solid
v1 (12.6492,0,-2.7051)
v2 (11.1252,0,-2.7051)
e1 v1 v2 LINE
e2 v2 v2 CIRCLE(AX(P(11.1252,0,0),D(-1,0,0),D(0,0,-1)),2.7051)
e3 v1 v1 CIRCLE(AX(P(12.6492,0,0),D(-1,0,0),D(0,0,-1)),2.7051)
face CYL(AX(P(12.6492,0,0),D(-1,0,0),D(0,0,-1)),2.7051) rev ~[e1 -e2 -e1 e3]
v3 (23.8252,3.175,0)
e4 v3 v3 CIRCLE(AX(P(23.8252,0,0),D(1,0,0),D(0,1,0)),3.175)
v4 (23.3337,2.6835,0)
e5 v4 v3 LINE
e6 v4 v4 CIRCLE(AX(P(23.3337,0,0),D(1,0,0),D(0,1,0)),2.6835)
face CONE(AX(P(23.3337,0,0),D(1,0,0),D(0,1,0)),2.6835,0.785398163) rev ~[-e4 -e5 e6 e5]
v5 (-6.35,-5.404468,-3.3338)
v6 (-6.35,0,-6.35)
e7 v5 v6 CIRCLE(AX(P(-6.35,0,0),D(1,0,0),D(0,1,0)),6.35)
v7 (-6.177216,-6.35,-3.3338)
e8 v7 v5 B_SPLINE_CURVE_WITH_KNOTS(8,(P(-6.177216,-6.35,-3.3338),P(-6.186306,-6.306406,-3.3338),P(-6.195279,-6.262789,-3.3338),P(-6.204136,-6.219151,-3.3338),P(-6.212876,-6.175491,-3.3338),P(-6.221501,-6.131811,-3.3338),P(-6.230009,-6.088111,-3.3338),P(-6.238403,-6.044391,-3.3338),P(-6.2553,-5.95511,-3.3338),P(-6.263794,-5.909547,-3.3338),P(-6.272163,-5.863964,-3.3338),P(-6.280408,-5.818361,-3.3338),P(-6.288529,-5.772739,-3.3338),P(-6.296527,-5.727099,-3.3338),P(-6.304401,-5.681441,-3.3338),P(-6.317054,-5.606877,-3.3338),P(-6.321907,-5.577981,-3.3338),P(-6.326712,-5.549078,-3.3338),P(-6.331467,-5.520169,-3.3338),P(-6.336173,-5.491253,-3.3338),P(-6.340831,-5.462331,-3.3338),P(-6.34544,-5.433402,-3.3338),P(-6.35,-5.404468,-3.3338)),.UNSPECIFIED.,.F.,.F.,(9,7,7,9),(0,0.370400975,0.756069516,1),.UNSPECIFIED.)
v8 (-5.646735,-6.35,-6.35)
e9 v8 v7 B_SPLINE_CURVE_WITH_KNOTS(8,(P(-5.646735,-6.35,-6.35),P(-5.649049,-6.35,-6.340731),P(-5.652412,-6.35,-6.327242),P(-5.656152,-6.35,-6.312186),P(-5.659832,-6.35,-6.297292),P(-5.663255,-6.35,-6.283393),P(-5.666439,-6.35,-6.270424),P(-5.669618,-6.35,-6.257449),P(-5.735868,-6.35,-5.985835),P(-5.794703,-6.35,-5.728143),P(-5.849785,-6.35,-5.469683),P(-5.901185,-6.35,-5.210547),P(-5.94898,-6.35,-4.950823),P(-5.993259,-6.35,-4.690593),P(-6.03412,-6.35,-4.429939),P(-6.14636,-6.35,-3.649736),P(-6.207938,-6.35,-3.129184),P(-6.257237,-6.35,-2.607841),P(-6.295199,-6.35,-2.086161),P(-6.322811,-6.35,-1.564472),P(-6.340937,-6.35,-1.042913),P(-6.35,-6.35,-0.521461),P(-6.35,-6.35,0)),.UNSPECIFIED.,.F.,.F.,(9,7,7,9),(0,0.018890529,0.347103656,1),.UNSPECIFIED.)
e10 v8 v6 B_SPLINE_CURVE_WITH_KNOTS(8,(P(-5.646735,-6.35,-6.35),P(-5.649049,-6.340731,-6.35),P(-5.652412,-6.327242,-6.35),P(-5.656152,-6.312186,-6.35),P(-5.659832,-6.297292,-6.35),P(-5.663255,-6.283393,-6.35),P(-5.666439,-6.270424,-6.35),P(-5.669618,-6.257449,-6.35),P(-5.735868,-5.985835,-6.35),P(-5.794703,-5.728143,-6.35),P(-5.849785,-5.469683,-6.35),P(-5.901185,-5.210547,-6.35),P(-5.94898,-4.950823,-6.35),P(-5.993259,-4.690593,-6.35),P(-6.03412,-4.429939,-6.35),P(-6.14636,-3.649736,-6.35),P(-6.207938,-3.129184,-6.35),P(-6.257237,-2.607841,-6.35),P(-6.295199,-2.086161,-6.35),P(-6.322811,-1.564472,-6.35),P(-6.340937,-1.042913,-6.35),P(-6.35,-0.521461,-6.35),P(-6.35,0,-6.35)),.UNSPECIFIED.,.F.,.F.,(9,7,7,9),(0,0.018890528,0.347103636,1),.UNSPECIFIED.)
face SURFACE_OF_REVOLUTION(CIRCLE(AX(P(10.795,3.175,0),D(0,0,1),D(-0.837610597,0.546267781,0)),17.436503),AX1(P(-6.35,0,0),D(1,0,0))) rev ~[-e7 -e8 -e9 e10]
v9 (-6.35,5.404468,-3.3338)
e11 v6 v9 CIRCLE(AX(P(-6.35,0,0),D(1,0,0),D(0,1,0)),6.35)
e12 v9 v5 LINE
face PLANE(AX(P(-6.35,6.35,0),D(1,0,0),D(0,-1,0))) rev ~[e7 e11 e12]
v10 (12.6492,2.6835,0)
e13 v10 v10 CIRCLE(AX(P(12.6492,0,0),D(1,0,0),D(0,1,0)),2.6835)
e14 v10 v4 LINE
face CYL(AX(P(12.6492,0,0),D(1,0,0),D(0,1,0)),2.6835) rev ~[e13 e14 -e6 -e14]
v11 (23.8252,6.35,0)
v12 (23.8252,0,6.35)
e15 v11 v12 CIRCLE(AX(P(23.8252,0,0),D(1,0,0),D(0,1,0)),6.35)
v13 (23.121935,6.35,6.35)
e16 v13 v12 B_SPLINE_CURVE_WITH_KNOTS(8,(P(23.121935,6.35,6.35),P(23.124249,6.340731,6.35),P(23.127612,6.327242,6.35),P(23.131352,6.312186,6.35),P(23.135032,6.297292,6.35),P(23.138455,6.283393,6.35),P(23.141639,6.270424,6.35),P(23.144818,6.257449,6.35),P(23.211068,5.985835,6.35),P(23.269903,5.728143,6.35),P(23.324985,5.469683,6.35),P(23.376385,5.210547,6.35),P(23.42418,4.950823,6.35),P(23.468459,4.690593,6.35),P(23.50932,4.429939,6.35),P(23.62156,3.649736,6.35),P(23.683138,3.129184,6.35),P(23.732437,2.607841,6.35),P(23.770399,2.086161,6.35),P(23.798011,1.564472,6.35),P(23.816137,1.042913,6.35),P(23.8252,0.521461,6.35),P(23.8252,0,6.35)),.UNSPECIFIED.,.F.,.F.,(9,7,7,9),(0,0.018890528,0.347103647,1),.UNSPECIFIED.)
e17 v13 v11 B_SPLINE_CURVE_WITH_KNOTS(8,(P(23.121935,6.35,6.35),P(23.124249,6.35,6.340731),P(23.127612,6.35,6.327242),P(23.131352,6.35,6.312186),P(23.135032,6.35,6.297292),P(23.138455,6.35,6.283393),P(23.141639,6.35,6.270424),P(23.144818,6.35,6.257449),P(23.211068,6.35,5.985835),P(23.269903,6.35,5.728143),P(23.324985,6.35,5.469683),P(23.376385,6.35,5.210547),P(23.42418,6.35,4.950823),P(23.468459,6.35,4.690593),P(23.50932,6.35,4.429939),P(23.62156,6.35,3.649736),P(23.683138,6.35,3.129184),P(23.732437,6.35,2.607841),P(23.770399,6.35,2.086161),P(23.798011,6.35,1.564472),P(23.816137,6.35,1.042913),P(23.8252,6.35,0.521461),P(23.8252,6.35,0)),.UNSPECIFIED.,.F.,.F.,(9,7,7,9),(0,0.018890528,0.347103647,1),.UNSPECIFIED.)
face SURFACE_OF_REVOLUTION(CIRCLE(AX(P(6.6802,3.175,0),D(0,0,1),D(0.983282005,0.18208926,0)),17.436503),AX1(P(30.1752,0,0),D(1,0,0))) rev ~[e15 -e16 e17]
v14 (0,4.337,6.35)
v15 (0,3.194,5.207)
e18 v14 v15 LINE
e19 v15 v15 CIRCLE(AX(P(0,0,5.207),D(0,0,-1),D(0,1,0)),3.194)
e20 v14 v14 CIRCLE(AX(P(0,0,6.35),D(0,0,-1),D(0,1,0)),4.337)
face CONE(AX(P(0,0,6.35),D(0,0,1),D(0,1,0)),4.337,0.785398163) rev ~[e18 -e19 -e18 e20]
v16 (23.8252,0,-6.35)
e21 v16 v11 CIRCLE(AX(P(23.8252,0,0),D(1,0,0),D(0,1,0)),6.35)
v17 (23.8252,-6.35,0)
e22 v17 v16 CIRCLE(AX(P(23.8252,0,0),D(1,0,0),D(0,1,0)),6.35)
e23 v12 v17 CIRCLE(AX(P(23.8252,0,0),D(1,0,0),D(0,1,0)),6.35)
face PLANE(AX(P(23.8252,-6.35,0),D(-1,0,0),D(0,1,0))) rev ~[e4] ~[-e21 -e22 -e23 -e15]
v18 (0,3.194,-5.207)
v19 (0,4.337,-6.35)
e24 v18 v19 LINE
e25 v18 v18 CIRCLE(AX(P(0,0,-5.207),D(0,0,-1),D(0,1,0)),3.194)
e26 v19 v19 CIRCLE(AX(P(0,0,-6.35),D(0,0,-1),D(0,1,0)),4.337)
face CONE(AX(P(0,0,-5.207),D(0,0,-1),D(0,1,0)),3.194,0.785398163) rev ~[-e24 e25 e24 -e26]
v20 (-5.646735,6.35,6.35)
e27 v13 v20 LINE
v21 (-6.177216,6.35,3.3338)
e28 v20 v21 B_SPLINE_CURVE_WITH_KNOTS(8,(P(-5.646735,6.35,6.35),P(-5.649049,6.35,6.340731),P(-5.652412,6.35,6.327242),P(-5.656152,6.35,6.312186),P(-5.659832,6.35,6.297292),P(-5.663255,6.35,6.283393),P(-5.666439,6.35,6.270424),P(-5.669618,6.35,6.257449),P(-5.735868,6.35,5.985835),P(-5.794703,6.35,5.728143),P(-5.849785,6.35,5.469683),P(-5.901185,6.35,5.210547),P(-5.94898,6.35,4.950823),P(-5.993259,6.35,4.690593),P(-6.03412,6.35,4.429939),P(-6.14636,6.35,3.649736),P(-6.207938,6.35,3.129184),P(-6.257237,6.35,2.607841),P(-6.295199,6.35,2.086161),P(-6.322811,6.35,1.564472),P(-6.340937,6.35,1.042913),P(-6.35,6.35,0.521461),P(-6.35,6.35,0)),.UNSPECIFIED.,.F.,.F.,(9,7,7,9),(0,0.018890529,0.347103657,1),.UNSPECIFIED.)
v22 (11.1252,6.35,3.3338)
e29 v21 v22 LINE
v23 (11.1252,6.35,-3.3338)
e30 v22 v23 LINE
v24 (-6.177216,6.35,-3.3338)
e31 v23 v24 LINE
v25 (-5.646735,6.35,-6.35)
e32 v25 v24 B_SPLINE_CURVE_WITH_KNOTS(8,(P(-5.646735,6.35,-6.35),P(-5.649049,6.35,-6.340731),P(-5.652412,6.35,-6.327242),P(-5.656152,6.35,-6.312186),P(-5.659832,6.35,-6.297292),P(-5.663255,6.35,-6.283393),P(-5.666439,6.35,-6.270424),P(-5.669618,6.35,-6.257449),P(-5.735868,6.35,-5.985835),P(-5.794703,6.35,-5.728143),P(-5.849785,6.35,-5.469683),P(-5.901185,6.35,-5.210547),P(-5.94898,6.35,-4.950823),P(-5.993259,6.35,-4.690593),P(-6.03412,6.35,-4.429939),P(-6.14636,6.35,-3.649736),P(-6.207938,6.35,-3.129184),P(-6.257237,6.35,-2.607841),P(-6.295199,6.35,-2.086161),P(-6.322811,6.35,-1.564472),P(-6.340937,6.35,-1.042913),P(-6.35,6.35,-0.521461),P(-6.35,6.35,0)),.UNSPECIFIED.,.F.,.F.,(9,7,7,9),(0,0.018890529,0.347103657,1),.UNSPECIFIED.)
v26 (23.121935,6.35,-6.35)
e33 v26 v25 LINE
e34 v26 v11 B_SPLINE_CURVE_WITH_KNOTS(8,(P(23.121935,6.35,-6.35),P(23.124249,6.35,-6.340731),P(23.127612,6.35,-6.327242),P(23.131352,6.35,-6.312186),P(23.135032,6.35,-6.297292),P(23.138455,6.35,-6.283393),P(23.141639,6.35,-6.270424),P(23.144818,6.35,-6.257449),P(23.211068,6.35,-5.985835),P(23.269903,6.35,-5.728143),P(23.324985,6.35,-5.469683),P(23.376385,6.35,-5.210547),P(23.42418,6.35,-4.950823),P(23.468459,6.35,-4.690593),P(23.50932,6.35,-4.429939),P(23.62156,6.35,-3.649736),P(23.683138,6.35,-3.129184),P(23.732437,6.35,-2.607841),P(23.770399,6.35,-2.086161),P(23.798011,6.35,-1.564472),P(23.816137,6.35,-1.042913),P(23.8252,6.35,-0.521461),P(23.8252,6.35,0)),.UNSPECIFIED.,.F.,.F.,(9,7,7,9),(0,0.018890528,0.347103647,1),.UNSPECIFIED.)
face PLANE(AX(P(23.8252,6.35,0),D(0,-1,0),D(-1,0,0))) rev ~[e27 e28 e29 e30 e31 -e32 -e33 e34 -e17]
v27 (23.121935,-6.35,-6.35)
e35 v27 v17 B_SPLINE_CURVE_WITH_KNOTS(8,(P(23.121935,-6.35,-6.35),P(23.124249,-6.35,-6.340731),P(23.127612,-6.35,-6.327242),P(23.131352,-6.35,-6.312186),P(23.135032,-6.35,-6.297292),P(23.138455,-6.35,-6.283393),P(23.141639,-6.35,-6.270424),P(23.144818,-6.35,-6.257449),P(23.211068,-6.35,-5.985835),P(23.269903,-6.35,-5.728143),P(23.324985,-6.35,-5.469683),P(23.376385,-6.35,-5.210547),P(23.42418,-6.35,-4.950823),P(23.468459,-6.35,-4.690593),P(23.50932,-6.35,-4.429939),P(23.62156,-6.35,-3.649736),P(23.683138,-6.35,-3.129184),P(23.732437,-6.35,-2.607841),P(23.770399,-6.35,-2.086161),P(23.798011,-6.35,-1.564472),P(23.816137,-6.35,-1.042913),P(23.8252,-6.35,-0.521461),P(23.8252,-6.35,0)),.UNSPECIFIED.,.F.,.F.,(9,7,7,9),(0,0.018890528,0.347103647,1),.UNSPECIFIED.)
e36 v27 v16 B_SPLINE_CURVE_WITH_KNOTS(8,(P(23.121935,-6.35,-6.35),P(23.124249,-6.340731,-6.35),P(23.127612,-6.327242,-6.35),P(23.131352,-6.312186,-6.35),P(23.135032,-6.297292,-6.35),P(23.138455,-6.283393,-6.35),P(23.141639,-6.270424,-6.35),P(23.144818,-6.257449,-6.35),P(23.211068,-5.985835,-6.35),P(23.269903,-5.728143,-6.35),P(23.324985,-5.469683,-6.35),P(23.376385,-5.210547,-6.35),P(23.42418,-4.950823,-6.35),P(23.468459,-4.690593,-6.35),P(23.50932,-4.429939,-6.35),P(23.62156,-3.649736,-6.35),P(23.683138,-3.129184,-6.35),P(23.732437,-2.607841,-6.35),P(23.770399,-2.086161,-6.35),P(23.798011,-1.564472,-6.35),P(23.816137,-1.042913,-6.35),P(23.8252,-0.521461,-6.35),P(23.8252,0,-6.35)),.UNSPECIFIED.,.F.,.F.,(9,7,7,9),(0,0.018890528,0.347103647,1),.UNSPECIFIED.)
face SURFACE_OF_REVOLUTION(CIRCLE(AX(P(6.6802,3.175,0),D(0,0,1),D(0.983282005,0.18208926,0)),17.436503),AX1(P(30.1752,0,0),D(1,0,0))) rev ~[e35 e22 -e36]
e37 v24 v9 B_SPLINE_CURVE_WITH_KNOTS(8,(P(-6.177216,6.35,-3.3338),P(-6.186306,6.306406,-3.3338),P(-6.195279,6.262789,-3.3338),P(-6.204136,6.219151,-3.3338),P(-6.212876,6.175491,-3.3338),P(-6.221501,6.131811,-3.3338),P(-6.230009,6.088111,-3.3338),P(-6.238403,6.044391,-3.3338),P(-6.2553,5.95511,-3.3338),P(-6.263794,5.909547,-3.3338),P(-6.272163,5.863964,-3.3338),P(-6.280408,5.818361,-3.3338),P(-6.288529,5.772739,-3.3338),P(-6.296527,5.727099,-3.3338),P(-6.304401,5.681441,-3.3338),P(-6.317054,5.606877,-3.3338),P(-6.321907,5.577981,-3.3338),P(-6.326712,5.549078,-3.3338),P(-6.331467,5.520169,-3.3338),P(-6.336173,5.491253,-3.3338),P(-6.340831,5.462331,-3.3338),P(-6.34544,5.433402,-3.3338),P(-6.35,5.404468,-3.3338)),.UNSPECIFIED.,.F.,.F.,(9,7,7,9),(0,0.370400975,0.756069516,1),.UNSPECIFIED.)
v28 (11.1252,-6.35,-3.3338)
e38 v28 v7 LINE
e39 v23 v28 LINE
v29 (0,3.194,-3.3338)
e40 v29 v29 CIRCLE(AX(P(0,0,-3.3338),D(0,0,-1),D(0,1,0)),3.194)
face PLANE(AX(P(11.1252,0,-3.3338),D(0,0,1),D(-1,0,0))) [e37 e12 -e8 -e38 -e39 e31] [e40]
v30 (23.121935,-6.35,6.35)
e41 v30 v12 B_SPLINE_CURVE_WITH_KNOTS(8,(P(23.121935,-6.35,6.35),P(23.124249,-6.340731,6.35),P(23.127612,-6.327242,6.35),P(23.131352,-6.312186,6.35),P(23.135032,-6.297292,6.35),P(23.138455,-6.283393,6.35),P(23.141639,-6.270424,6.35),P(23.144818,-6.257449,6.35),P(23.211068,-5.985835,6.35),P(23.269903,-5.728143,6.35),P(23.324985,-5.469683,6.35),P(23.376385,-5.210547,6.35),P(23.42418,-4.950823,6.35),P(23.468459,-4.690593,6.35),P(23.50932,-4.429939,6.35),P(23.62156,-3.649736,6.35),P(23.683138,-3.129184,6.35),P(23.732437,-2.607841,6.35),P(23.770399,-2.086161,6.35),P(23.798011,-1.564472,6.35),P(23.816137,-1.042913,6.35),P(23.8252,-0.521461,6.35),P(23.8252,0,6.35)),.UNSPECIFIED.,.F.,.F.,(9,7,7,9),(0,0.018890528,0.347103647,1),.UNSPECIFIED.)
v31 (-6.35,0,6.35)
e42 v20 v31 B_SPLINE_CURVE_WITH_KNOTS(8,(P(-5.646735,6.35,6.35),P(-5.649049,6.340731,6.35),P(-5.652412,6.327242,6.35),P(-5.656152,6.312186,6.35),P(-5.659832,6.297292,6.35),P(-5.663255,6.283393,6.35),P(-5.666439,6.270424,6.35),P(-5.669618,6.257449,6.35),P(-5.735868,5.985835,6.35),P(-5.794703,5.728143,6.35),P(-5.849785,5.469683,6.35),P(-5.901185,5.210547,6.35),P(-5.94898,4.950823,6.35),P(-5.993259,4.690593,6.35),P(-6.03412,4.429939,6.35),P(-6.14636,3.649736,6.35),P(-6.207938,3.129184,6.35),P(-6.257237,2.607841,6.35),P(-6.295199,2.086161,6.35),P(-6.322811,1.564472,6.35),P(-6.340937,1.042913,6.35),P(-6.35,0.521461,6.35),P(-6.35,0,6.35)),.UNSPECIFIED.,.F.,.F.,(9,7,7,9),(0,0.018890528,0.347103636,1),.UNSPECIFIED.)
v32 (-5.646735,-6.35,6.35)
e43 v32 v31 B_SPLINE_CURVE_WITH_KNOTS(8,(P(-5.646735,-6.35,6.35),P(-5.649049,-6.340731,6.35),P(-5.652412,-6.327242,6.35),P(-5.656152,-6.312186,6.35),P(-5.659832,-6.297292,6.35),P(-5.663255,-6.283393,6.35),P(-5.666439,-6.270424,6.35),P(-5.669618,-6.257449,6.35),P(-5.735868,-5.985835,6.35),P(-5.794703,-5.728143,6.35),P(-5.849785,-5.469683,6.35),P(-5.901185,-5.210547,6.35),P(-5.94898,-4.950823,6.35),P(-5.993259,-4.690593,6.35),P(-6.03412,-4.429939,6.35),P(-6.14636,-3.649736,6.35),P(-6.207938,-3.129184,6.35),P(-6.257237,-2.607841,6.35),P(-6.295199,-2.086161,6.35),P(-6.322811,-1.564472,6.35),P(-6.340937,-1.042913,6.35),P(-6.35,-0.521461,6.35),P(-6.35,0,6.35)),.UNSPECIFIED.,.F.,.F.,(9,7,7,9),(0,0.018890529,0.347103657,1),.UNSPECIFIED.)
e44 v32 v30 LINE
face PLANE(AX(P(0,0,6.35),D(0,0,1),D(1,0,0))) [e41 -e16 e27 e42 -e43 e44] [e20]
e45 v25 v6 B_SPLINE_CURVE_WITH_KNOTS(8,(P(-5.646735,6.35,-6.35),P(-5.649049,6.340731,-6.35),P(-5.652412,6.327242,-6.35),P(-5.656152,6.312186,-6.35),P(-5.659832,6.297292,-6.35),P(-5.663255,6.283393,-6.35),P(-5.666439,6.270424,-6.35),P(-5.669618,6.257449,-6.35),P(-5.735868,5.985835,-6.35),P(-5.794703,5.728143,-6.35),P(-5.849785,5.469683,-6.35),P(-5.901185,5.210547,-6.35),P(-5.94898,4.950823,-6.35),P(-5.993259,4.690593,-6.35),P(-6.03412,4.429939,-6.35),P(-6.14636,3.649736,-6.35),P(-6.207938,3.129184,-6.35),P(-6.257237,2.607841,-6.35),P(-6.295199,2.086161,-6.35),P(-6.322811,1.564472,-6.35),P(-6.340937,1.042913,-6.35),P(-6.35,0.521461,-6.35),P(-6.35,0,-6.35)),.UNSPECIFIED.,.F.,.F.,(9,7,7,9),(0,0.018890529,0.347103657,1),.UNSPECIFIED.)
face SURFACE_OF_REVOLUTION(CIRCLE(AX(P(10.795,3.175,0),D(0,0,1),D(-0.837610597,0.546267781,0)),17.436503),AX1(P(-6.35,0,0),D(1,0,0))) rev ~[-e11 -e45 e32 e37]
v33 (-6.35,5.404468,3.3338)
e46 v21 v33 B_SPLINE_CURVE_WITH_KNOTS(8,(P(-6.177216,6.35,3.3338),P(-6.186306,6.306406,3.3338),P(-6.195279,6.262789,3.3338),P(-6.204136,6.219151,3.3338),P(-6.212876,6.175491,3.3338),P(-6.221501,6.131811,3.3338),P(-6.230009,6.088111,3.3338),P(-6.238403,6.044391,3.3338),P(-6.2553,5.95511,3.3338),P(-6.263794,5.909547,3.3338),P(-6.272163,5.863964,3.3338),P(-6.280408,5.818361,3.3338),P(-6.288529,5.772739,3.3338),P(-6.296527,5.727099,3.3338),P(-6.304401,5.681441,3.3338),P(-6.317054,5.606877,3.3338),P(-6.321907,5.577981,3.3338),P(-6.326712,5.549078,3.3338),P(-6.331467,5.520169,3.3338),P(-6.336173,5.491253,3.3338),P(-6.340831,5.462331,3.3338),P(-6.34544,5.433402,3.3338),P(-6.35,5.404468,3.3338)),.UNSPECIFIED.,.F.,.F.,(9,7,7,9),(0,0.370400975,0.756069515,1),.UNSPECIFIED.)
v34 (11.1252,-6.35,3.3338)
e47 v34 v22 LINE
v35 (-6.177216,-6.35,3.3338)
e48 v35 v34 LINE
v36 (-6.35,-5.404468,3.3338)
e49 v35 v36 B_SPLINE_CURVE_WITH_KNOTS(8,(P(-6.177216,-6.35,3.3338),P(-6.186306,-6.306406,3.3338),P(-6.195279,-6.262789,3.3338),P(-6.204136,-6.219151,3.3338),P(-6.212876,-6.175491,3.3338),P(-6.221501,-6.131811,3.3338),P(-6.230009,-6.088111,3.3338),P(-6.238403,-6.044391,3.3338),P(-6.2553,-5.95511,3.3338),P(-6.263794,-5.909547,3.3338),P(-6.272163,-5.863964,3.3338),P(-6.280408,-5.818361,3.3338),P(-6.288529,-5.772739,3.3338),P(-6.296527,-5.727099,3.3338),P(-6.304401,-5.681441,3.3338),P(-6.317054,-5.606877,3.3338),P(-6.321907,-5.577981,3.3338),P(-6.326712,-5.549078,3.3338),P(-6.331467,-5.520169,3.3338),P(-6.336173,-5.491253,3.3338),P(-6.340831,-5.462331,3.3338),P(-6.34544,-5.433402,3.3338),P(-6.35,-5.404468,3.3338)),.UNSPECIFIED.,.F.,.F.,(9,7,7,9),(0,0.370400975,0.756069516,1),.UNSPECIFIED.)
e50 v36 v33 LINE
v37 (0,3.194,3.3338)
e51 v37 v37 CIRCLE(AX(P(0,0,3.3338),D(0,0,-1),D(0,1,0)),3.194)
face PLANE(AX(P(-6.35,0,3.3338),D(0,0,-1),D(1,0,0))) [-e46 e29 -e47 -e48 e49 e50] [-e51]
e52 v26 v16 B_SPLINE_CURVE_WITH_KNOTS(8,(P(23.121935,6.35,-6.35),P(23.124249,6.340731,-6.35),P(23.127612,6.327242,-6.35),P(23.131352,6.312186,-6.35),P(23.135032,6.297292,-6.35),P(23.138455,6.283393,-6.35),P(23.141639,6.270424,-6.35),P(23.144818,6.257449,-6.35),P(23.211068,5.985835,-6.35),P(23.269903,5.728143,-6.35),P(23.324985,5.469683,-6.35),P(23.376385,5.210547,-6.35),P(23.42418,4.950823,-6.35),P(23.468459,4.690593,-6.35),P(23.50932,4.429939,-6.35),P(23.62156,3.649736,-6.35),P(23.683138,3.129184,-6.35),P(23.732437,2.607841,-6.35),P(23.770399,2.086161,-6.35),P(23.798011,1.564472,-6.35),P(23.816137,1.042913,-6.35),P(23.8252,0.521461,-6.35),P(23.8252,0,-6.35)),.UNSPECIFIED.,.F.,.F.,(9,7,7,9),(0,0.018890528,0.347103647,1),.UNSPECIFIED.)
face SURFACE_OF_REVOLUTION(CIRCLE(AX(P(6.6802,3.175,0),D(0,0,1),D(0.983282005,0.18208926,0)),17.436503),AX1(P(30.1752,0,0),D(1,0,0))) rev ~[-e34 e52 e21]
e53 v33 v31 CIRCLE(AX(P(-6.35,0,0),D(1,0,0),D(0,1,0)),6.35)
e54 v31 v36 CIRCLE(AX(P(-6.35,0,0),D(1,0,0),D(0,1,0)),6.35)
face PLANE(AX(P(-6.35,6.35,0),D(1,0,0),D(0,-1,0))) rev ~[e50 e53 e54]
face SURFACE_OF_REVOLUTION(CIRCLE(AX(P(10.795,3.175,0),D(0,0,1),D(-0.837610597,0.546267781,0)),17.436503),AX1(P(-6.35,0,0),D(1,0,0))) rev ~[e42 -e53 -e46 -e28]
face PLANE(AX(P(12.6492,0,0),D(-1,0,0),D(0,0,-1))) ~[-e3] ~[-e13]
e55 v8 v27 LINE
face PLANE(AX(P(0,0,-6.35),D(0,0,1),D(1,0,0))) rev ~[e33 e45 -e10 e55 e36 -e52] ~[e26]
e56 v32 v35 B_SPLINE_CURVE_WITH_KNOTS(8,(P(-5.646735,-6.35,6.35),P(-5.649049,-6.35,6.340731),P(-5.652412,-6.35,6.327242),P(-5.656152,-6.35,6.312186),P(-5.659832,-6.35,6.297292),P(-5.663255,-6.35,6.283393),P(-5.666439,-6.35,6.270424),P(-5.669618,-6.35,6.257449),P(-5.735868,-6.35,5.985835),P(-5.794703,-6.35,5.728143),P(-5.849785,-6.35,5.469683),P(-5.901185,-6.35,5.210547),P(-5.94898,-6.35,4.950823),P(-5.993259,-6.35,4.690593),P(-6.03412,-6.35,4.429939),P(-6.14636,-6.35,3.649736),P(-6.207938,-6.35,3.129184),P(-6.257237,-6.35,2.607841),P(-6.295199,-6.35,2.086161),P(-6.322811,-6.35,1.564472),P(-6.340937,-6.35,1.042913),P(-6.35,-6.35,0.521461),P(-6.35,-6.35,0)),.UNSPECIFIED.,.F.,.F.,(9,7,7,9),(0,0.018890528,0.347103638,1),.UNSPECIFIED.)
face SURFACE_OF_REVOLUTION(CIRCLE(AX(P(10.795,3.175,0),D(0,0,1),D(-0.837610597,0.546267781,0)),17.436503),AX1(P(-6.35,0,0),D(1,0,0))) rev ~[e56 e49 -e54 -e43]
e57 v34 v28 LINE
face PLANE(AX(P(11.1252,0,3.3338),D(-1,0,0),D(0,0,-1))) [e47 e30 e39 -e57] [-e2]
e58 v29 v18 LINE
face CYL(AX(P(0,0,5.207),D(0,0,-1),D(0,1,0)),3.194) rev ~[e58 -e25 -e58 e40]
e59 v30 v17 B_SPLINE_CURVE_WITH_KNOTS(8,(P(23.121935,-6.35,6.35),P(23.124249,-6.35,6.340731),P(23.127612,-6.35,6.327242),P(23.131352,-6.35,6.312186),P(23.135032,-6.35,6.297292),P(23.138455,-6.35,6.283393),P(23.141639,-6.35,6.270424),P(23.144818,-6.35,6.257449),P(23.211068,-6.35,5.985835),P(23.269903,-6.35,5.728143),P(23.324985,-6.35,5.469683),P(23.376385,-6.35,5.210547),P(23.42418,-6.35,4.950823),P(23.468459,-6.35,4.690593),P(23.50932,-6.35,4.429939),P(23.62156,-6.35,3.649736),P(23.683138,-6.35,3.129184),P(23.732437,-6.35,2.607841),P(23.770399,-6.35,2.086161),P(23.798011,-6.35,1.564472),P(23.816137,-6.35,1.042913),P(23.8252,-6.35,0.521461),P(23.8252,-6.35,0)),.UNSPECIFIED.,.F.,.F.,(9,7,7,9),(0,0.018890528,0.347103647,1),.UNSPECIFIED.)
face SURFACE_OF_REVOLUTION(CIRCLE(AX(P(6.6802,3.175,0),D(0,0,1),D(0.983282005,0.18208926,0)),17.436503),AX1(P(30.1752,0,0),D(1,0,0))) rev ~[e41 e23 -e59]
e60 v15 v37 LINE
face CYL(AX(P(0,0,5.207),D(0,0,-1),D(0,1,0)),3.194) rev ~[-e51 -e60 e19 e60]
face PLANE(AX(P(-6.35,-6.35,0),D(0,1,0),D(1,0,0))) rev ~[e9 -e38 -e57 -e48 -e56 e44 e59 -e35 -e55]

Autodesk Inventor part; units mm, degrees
sketch "Sketch_1" plane through (0, 0, 0) normal (0, 0, 1) x (1, 0, 0)
  line L0 (-6.35, -6.35) -> (23.8252, -6.35)
  line L1 (23.8252, -6.35) -> (23.8252, 6.35)
  line L2 (23.8252, 6.35) -> (-6.35, 6.35)
  line L3 (-6.35, 6.35) -> (-6.35, -6.35)
extrude "Extrusion1" add sketch "Sketch_1" along normal mid plane 12.7
sketch "Sketch_2" plane through (0, 0, 0) normal (0, 1, 0) x (-1, 0, 0)
  line L0 (6.35, 3.3338) -> (-11.1252, 3.3338)
  line L1 (-11.1252, 3.3338) -> (-11.1252, -3.3338)
  line L2 (-11.1252, -3.3338) -> (6.35, -3.3338)
  line L3 (6.35, -3.3338) -> (6.35, 3.3338)
extrude "Extrusion2" cut sketch "Sketch_2" along normal mid plane 12.7
sketch "Sketch_3" plane through (0, 0, 0) normal (0, 0, 1) x (1, 0, 0)
  line L0 (23.8252, 0) -> (12.6492, 0)
  line L1 (12.6492, 0) -> (12.6492, 2.6835)
  line L2 (12.6492, 2.6835) -> (23.3337, 2.6835)
  line L3 (23.3337, 2.6835) -> (23.8252, 3.175)
  line L4 (23.8252, 3.175) -> (23.8252, 0)
  line L5 (23.8252, 0) -> (12.6492, 0)
revolve "Revolution1" cut sketch "Sketch_3" angle 360 about axis through (23.8252, 0, 0) along (1, 0, 0)
thread "Thread1" size "1/4-28 UNF" class "2B" standard "ANSI Unified Screw Threads" full length
sketch "Sketch5" plane through (12.6492, 0, 0) normal (1, 0, 0) x (0, 0, -1)
  point P0 (0, 0)
hole "Hole1" at (12.6492, 0, 0) direction (-1, 0, 0) diameter 5.4102 depth 1.524
sketch "Sketch_5" plane through (0, 0, 0) normal (1, 0, 0) x (0, 1, 0)
  line L0 (0, -6.35) -> (0, 6.35)
  line L1 (0, 6.35) -> (4.337, 6.35)
  line L2 (4.337, 6.35) -> (3.194, 5.207)
  line L3 (3.194, 5.207) -> (3.194, -5.207)
  line L4 (3.194, -5.207) -> (4.337, -6.35)
  line L5 (4.337, -6.35) -> (0, -6.35)
  line L6 (0, -6.35) -> (0, 6.35)
revolve "Revolution2" cut sketch "Sketch_5" angle 360 about axis through (0, 0, -6.35) along (0, 0, -1)
sketch "Sketch_9" plane through (0, 0, 0) normal (0, 0, 1) x (1, 0, 0)
  line L0 (30.1752, 0) -> (23.8252, 0)
  line L1 (23.8252, 0) -> (23.8252, 6.35)
  arc A0 (23.8252, 6.35) -> (21.2852, 12.7) centre (6.6802, 3.175) ccw
  line L2 (21.2852, 12.7) -> (30.1752, 12.7)
  line L3 (30.1752, 12.7) -> (30.1752, 0)
  line L4 (30.1752, 0) -> (23.8252, 0)
revolve "Revolution3" cut sketch "Sketch_9" angle 360 about axis through (30.1752, 0, 0) along (1, 0, 0)
sketch "Sketch_10" plane through (0, 0, 0) normal (0, 0, 1) x (1, 0, 0)
  line L0 (-6.35, 0) -> (-12.7, 0)
  line L1 (-12.7, 0) -> (-12.7, 12.7)
  line L2 (-12.7, 12.7) -> (-3.81, 12.7)
  arc A0 (-3.81, 12.7) -> (-6.35, 6.35) centre (10.795, 3.175) ccw
  line L3 (-6.35, 6.35) -> (-6.35, 0)
  line L4 (-6.35, 0) -> (-12.7, 0)
revolve "Revolution4" cut sketch "Sketch_10" angle 360 about axis through (-6.35, 0, 0) along (1, 0, 0)
ref_plane "dummy_XY" through (0, 0, 0) normal (0, 0, 1) x (1, 0, 0)
ref_plane "dummy_YZ" through (0, 0, 0) normal (1, 0, 0) x (0, 1, 0)
ref_plane "dummy_ZX" through (0, 0, 0) normal (0, 1, 0) x (0, 0, 1)
ref_plane "h1_XY" through (-6.35, 6.35, 0) normal (0, 0, 1) x (1, 0, 0)
ref_plane "h1_YZ" through (-6.35, 6.35, 0) normal (1, 0, 0) x (0, 1, 0)
ref_plane "h1_ZX" through (-6.35, 6.35, 0) normal (0, 1, 0) x (0, 0, 1)
ref_plane "h2_XY" through (-6.35, -6.35, 0) normal (0, 0, 1) x (1, 0, 0)
ref_plane "h2_YZ" through (-6.35, -6.35, 0) normal (1, 0, 0) x (0, 1, 0)
ref_plane "h2_ZX" through (-6.35, -6.35, 0) normal (0, 1, 0) x (0, 0, 1)
ref_plane "l1_XY" through (23.8252, 6.35, 0) normal (0, 0, 1) x (1, 0, 0)
ref_plane "l1_YZ" through (23.8252, 6.35, 0) normal (1, 0, 0) x (0, 1, 0)
ref_plane "l1_ZX" through (23.8252, 6.35, 0) normal (0, 1, 0) x (0, 0, 1)
ref_plane "l11_XY" through (23.8252, 6.35, 0) normal (0, 0, 1) x (1, 0, 0)
ref_plane "l11_YZ" through (23.8252, 6.35, 0) normal (1, 0, 0) x (0, 1, 0)
ref_plane "l11_ZX" through (23.8252, 6.35, 0) normal (0, 1, 0) x (0, 0, 1)
ref_plane "l12_XY" through (0, 6.35, 0) normal (0, 0, 1) x (1, 0, 0)
ref_plane "l12_YZ" through (0, 6.35, 0) normal (1, 0, 0) x (0, 1, 0)
ref_plane "l12_ZX" through (0, 6.35, 0) normal (0, 1, 0) x (0, 0, 1)
ref_plane "l2_XY" through (-6.35, 6.35, 0) normal (0, 0, 1) x (1, 0, 0)
ref_plane "l2_YZ" through (-6.35, 6.35, 0) normal (1, 0, 0) x (0, 1, 0)
ref_plane "l2_ZX" through (-6.35, 6.35, 0) normal (0, 1, 0) x (0, 0, 1)
ref_plane "l21_XY" through (23.8252, 0, 0) normal (0, 1, 0) x (1, 0, 0)
ref_plane "l21_YZ" through (23.8252, 0, 0) normal (1, 0, 0) x (0, 0, -1)
ref_plane "l21_ZX" through (23.8252, 0, 0) normal (0, 0, -1) x (0, 1, 0)
ref_plane "l22_XY" through (11.1252, 0, 0) normal (0, 1, 0) x (1, 0, 0)
ref_plane "l22_YZ" through (11.1252, 0, 0) normal (1, 0, 0) x (0, 0, -1)
ref_plane "l22_ZX" through (11.1252, 0, 0) normal (0, 0, -1) x (0, 1, 0)
ref_plane "piston_rod_clevis_XY" through (23.8252, 0, 0) normal (1, 0, 0) x (0, 0, -1)
ref_plane "piston_rod_clevis_YZ" through (23.8252, 0, 0) normal (0, 0, -1) x (0, 1, 0)
ref_plane "piston_rod_clevis_ZX" through (23.8252, 0, 0) normal (0, 1, 0) x (1, 0, 0)
ref_plane "rod_clevis_body_XY" through (0, 0, 0) normal (0, 0, 1) x (1, 0, 0)
ref_plane "rod_clevis_body_YZ" through (0, 0, 0) normal (1, 0, 0) x (0, 1, 0)
ref_plane "rod_clevis_body_ZX" through (0, 0, 0) normal (0, 1, 0) x (0, 0, 1)
ref_plane "th1_XY" through (23.8252, 3.175, 0) normal (0, 0, 1) x (1, 0, 0)
ref_plane "th1_YZ" through (23.8252, 3.175, 0) normal (1, 0, 0) x (0, 1, 0)
ref_plane "th1_ZX" through (23.8252, 3.175, 0) normal (0, 1, 0) x (0, 0, 1)
ref_plane "th2_XY" through (23.8252, -3.175, 0) normal (0, 0, 1) x (1, 0, 0)
ref_plane "th2_YZ" through (23.8252, -3.175, 0) normal (1, 0, 0) x (0, 1, 0)
ref_plane "th2_ZX" through (23.8252, -3.175, 0) normal (0, 1, 0) x (0, 0, 1)
ref_plane "to_cylinder_XY" through (11.1252, 0, 0) normal (1, 0, 0) x (0, 0, -1)
ref_plane "to_cylinder_YZ" through (11.1252, 0, 0) normal (0, 0, -1) x (0, 1, 0)
ref_plane "to_cylinder_ZX" through (11.1252, 0, 0) normal (0, 1, 0) x (1, 0, 0)
ref_plane "w1_XY" through (23.8252, 0, -6.35) normal (0, 1, 0) x (1, 0, 0)
ref_plane "w1_YZ" through (23.8252, 0, -6.35) normal (1, 0, 0) x (0, 0, -1)
ref_plane "w1_ZX" through (23.8252, 0, -6.35) normal (0, 0, -1) x (0, 1, 0)
ref_plane "w11_XY" through (-6.35, 0, -3.3338) normal (0, 1, 0) x (1, 0, 0)
ref_plane "w11_YZ" through (-6.35, 0, -3.3338) normal (1, 0, 0) x (0, 0, -1)
ref_plane "w11_ZX" through (-6.35, 0, -3.3338) normal (0, 0, -1) x (0, 1, 0)
ref_plane "w12_XY" through (-6.35, 0, 3.3338) normal (0, 1, 0) x (1, 0, 0)
ref_plane "w12_YZ" through (-6.35, 0, 3.3338) normal (1, 0, 0) x (0, 0, -1)
ref_plane "w12_ZX" through (-6.35, 0, 3.3338) normal (0, 0, -1) x (0, 1, 0)
ref_plane "w2_XY" through (23.8252, 0, 6.35) normal (0, 1, 0) x (1, 0, 0)
ref_plane "w2_YZ" through (23.8252, 0, 6.35) normal (1, 0, 0) x (0, 0, -1)
ref_plane "w2_ZX" through (23.8252, 0, 6.35) normal (0, 0, -1) x (0, 1, 0)
properties part number "D-14055" material "Steel, Alloy"
